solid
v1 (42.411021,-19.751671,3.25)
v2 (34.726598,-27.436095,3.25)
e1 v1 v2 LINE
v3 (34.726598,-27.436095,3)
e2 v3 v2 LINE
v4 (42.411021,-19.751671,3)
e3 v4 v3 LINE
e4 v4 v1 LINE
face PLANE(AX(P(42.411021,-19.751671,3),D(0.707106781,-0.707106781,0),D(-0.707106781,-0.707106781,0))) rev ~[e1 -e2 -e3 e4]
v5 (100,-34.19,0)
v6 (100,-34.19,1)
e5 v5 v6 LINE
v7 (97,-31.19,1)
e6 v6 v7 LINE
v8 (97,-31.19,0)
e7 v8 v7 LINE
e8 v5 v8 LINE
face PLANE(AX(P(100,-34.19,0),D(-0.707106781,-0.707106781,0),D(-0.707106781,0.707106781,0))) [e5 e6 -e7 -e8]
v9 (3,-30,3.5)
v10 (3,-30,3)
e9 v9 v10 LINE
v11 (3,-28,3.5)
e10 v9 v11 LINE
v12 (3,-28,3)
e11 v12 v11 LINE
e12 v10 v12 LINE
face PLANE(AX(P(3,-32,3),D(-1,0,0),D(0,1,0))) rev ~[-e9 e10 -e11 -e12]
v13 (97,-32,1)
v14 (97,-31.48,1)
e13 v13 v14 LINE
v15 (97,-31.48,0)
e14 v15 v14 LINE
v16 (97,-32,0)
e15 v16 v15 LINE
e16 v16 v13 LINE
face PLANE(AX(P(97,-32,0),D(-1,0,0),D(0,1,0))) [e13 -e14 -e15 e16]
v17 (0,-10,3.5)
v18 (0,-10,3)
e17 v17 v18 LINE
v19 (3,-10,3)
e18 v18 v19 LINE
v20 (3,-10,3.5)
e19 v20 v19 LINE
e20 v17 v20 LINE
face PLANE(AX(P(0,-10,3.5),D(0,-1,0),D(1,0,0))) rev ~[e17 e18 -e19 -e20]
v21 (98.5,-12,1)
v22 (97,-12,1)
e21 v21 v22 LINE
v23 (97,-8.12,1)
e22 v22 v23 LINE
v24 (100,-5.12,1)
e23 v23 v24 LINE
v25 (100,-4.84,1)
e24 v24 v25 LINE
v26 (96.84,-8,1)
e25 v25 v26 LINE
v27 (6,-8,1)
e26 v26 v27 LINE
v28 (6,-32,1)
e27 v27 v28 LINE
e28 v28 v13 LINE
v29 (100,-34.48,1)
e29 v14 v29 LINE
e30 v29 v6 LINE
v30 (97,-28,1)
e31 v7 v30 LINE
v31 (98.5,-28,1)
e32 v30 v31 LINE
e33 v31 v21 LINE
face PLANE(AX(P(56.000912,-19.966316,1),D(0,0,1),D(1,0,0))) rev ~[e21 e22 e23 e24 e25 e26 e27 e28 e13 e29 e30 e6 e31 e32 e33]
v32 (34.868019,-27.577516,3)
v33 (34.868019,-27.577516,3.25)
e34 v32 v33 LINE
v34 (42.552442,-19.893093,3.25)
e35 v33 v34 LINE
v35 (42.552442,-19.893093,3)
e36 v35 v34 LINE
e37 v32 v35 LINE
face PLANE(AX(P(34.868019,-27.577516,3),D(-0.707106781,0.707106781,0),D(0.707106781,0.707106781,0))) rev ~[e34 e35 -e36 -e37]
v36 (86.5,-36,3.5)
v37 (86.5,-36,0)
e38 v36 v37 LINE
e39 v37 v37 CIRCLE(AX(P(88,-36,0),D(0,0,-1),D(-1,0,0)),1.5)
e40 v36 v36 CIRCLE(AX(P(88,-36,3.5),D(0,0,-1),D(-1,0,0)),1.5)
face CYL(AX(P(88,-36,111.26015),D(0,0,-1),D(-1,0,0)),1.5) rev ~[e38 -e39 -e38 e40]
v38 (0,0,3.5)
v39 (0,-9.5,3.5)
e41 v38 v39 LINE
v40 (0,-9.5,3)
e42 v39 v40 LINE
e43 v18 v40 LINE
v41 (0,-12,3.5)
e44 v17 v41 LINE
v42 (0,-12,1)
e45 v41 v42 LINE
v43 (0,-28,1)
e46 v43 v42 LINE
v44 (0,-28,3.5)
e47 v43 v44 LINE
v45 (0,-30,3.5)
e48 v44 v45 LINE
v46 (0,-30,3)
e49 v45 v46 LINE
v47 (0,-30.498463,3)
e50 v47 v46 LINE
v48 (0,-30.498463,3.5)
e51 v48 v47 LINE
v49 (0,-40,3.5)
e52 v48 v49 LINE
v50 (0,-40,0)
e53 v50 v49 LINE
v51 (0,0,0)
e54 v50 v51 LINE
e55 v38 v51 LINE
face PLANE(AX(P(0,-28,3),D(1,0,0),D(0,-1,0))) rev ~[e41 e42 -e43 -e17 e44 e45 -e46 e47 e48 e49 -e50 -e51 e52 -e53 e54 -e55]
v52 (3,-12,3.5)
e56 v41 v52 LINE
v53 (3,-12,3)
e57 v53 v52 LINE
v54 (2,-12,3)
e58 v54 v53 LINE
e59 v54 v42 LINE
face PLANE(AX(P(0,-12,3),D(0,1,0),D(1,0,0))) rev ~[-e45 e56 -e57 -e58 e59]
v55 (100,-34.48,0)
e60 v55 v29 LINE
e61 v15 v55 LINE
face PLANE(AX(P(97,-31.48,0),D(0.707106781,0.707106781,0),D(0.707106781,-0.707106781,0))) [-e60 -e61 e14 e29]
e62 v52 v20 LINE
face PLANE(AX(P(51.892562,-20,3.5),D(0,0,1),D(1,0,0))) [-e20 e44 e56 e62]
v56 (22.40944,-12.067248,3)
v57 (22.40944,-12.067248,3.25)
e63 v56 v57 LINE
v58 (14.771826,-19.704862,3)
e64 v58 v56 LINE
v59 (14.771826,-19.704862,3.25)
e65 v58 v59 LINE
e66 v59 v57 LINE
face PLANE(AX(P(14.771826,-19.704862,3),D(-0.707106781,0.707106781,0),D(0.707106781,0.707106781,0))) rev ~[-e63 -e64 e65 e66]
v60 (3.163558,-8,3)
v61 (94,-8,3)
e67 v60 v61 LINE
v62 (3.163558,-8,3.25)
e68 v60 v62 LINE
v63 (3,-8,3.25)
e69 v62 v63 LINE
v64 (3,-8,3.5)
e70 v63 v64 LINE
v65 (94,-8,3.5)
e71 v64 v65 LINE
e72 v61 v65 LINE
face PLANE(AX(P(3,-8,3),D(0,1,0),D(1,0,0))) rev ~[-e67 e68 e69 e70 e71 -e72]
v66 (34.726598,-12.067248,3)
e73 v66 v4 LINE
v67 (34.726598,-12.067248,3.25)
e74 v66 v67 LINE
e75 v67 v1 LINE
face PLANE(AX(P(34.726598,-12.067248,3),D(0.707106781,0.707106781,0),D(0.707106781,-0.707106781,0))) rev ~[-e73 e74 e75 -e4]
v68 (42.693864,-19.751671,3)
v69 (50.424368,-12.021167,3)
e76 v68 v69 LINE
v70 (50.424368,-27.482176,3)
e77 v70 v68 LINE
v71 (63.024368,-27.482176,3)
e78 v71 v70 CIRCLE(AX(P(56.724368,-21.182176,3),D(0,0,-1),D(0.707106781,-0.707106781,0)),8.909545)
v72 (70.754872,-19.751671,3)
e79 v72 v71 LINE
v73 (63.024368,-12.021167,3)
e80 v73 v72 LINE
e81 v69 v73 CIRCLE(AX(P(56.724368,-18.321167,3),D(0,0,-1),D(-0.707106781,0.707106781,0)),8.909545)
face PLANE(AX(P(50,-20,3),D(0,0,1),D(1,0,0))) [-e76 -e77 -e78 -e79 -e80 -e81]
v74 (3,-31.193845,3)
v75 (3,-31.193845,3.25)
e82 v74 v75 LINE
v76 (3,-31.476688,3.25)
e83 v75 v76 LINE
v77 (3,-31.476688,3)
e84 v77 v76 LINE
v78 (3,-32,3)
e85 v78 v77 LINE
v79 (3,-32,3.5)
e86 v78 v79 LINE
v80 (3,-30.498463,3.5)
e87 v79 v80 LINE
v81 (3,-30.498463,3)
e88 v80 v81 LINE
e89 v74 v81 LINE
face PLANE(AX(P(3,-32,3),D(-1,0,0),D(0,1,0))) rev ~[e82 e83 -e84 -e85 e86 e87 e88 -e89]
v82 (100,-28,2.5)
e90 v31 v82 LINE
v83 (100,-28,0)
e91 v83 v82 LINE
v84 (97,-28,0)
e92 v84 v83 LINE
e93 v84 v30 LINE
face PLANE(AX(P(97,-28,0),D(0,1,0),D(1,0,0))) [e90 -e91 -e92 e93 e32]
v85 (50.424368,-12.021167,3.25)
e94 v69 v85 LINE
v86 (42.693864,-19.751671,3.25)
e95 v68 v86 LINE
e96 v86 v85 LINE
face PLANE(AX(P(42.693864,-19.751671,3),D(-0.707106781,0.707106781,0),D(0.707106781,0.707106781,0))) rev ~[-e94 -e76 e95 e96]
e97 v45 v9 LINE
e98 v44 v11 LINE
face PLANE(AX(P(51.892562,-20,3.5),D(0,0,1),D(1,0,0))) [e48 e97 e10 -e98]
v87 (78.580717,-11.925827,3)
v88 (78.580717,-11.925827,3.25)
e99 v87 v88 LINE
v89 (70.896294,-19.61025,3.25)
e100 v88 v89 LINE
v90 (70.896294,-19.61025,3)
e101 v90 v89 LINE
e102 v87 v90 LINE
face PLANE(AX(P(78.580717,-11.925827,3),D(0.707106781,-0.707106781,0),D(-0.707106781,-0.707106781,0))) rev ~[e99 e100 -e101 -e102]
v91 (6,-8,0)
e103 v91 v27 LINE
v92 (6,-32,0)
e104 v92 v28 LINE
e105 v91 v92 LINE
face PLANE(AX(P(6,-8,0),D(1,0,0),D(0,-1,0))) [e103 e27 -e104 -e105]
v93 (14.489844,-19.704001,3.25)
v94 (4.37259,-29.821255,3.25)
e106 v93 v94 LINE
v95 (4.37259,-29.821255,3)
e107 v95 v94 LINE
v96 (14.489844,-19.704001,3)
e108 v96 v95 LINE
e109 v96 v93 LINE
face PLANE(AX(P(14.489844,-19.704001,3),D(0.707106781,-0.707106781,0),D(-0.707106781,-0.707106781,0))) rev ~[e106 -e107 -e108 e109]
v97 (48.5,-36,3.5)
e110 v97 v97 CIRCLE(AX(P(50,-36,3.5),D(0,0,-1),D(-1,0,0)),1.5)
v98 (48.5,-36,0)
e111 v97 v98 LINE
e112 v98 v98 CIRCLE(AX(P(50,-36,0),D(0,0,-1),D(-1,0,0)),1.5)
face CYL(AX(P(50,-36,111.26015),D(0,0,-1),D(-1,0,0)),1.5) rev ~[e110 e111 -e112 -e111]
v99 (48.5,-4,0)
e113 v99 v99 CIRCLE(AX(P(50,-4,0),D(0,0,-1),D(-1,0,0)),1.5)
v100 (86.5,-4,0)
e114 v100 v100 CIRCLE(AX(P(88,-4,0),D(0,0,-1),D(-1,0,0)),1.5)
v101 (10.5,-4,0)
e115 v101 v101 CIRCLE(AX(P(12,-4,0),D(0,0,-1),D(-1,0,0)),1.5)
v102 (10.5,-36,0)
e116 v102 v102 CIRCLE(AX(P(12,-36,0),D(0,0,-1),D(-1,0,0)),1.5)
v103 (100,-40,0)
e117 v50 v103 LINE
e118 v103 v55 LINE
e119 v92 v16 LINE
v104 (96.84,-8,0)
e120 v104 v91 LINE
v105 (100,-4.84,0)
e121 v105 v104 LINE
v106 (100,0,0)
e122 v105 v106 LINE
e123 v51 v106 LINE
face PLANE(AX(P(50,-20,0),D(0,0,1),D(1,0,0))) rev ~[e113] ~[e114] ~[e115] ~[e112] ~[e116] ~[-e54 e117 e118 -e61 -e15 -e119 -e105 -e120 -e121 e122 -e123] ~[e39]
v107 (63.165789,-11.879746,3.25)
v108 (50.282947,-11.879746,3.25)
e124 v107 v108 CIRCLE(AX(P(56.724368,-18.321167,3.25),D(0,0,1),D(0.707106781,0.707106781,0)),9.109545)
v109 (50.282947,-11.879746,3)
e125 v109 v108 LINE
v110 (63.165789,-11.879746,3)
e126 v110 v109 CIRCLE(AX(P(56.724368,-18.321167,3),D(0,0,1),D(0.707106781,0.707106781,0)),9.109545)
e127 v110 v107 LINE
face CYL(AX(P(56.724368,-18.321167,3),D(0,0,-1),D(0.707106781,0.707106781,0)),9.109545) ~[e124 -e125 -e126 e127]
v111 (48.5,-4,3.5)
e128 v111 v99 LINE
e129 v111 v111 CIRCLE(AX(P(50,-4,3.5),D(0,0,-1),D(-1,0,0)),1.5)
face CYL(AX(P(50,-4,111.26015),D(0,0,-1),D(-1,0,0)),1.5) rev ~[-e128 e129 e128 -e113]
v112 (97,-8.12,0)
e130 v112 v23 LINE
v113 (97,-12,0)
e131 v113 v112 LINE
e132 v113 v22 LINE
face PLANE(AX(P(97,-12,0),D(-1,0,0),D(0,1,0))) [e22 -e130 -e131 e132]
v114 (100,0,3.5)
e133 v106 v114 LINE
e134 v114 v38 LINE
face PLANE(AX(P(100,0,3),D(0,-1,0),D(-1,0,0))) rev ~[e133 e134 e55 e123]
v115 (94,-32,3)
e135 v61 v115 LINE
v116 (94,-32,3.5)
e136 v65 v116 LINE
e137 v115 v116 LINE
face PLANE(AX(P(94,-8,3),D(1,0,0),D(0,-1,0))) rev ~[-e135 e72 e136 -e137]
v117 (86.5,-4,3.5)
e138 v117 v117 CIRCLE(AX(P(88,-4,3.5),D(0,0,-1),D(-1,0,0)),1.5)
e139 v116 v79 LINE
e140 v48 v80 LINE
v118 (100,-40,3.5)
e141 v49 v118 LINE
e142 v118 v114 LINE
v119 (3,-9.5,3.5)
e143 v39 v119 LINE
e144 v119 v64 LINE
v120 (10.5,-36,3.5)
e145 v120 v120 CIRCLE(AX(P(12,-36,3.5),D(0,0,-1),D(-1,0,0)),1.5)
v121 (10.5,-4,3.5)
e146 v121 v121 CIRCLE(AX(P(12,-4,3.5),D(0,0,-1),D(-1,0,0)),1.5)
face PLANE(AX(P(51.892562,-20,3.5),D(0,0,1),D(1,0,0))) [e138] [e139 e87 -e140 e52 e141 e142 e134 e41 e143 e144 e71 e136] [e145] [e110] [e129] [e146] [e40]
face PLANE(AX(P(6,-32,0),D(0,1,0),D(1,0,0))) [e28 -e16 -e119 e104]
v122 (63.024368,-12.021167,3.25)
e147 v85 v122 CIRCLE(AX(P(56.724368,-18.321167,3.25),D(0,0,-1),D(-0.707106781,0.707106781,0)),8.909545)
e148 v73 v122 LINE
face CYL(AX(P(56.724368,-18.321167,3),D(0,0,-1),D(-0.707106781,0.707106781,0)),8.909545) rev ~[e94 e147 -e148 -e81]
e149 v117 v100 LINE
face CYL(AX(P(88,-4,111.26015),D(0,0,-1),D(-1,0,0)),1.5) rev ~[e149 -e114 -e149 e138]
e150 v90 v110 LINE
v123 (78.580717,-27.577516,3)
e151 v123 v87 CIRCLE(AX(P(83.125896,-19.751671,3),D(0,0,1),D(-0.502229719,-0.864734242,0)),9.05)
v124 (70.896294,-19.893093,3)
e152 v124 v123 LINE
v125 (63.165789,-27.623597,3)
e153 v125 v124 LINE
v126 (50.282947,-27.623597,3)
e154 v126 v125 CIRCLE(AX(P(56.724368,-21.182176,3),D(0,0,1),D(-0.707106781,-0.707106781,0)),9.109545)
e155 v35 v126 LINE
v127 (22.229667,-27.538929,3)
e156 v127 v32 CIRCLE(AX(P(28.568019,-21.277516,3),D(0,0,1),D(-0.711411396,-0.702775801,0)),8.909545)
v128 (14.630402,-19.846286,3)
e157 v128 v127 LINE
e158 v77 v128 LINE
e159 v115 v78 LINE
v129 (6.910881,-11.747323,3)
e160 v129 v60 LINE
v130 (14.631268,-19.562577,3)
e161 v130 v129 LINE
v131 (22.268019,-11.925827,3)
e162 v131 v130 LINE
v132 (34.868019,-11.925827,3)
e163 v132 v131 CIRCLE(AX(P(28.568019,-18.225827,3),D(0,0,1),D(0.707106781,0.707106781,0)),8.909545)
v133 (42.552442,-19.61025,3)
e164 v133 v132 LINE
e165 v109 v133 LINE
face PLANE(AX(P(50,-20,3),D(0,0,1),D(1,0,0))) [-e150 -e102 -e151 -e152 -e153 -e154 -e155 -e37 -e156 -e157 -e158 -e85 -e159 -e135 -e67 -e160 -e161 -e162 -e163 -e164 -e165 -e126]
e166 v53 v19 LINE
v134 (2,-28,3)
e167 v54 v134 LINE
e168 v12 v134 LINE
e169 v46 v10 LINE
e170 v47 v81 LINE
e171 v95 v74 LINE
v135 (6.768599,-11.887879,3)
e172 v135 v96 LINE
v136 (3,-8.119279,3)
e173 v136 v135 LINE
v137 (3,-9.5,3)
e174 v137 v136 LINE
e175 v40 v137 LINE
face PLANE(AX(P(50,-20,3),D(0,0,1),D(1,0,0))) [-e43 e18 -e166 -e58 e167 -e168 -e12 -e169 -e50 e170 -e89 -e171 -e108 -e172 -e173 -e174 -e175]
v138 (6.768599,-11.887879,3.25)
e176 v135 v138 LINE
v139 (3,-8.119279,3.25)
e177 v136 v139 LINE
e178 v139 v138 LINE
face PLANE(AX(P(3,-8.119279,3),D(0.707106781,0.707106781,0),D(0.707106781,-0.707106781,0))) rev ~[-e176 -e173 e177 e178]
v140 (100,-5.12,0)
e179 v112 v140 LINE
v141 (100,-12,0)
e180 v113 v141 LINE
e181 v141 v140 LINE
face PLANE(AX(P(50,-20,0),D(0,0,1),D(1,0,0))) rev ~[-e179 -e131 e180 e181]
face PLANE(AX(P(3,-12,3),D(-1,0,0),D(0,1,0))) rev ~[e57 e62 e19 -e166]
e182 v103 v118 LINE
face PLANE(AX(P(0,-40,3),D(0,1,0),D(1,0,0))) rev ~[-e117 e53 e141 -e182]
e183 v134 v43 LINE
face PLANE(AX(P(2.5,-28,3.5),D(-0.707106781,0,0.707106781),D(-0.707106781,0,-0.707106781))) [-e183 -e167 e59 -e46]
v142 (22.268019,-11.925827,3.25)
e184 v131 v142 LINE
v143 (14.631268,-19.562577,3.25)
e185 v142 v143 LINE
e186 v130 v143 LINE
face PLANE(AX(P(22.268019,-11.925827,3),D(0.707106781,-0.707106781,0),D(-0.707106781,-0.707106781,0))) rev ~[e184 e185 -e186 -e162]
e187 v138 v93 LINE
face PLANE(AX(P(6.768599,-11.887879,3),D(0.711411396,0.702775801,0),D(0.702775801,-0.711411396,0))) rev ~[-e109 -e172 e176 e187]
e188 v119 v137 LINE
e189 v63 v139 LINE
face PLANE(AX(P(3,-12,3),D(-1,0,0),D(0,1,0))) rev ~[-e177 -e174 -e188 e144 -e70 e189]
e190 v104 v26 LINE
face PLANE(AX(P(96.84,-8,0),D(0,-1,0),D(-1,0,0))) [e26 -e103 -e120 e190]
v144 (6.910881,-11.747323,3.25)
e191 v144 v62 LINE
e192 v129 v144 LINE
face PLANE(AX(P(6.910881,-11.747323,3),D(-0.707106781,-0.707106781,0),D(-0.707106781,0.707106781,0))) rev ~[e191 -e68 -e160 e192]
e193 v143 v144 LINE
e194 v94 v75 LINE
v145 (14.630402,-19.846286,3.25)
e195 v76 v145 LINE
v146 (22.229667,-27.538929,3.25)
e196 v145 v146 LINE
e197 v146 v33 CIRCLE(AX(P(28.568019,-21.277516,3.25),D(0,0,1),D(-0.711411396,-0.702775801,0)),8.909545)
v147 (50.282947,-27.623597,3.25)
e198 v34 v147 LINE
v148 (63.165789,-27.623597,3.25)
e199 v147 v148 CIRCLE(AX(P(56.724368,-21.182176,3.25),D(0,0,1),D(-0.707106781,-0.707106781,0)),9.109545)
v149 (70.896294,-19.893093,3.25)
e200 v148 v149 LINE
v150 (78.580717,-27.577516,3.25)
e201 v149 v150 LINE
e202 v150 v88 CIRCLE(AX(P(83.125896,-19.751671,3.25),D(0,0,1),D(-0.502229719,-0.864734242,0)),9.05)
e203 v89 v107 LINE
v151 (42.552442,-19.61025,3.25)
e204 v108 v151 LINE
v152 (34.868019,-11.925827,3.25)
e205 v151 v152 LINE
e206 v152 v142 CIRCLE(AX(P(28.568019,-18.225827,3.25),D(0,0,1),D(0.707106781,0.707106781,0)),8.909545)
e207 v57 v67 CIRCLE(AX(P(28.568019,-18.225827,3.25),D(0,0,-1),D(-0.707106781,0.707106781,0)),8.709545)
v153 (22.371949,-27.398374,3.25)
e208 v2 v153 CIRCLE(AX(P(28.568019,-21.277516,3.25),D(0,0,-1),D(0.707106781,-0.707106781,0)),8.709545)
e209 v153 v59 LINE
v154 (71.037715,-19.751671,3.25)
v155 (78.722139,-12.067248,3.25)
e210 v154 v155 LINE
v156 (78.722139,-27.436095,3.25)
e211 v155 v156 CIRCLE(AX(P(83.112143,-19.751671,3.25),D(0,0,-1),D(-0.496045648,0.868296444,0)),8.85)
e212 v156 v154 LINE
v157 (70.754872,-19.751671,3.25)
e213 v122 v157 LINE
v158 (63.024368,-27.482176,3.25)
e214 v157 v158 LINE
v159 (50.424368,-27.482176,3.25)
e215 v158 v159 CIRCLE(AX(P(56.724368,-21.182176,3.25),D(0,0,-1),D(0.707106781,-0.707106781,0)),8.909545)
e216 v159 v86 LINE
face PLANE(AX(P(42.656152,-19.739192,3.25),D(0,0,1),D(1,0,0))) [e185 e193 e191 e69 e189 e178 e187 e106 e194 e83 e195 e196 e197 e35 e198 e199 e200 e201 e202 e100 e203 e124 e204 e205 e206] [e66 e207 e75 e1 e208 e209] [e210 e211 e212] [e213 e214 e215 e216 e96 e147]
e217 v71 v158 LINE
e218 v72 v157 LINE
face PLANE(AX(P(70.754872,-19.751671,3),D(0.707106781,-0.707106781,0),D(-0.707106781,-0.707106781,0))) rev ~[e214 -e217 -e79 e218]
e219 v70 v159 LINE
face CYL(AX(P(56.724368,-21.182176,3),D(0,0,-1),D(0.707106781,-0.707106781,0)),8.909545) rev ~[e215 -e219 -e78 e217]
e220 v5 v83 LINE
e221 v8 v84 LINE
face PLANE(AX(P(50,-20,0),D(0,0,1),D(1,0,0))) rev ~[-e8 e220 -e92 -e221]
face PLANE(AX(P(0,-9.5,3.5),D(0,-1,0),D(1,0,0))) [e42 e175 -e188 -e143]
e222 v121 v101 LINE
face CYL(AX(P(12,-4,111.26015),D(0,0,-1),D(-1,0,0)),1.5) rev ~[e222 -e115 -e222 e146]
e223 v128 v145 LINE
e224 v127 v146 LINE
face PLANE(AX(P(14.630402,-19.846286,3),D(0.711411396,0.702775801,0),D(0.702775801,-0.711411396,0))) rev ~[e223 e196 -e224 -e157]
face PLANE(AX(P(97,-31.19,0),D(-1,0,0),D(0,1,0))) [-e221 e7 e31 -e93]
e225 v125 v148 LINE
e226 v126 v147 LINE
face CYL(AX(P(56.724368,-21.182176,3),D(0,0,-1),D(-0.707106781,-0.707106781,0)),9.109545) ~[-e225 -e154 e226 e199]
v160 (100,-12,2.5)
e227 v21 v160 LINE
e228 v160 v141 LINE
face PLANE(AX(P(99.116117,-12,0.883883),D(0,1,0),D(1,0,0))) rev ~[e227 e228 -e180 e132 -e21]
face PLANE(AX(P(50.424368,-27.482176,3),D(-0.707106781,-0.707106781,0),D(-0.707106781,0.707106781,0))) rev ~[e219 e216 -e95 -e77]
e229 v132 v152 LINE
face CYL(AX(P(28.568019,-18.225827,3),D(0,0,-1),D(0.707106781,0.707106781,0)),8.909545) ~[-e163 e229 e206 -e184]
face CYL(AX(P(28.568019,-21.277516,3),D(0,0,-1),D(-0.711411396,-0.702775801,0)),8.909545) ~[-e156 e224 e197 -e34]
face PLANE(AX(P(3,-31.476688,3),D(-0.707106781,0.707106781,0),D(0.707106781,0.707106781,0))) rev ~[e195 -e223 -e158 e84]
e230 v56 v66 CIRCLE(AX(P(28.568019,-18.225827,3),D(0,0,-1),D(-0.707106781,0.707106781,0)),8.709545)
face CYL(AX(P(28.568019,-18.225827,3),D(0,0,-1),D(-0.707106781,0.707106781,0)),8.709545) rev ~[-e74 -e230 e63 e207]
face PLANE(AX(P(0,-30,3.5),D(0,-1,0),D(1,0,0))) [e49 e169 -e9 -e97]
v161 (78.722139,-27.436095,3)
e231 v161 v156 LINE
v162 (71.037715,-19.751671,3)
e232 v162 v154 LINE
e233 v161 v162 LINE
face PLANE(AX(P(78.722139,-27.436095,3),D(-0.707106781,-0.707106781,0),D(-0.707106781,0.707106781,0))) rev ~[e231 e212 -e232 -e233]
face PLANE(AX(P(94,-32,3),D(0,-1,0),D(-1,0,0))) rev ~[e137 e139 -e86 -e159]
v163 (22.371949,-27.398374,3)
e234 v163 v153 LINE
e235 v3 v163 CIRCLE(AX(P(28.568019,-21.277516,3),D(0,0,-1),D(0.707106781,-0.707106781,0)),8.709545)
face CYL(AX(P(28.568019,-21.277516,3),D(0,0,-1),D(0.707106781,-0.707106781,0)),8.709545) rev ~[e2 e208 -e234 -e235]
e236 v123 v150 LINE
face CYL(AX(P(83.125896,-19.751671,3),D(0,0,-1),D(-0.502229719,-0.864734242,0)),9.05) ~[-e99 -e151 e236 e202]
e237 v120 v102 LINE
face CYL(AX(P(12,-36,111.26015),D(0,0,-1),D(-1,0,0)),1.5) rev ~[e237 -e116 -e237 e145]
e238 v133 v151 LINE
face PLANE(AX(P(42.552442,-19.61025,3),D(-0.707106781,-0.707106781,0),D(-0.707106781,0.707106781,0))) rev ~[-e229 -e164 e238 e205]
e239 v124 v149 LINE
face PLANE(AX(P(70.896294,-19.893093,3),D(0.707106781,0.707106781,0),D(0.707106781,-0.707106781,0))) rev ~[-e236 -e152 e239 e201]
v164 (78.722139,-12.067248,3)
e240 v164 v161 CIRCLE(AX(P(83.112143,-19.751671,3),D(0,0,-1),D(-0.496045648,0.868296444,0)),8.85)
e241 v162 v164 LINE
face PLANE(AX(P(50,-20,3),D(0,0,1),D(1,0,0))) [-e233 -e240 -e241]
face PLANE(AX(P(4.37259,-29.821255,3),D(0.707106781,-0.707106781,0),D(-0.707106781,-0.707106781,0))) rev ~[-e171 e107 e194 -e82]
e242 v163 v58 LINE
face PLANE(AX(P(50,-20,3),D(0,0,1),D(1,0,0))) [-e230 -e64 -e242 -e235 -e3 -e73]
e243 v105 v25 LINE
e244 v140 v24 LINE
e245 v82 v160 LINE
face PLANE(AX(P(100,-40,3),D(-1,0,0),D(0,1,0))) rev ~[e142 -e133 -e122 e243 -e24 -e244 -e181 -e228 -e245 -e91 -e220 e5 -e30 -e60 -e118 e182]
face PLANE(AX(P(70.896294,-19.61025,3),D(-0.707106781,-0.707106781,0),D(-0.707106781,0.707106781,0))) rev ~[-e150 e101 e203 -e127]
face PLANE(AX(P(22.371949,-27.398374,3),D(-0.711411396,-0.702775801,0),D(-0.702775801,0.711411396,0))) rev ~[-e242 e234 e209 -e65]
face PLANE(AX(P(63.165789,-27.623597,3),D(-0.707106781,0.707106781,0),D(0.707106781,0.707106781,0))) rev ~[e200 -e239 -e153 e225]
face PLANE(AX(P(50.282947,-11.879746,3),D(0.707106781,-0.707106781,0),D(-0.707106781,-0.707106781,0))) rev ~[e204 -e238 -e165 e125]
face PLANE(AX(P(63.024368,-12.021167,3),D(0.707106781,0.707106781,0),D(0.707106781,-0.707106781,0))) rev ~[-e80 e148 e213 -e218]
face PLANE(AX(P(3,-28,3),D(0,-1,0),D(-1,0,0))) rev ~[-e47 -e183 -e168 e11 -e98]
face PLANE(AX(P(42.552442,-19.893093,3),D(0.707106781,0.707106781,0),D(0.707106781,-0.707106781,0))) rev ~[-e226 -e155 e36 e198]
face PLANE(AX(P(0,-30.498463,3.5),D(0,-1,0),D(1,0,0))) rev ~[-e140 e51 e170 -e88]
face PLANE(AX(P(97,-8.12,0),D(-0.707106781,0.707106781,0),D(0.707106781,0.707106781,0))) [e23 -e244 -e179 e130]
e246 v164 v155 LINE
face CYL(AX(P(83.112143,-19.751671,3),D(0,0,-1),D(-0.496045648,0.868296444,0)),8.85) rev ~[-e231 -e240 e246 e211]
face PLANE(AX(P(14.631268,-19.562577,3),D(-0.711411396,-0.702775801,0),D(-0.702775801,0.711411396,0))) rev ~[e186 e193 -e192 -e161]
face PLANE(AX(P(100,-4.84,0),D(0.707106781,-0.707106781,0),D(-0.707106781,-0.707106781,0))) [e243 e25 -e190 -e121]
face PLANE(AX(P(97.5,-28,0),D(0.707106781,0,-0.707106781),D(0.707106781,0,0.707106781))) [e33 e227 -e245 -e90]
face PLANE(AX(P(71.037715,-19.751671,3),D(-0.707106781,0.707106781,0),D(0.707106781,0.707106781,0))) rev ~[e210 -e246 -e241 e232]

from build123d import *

# Parameters (mm, degrees)
SKETCH1_W             = 100
SKETCH1_H             = 40
BOSS_EXTRUDE1_DEPTH   = 3
BOSS_EXTRUDE2_DEPTH   = 0.25
BOSS_EXTRUDE21_DEPTH  = 0.5
CUT_EXTRUDE51_DEPTH   = 1
F_3_0MM_DOWEL_HOLE1_D = 3
CUT_EXTRUDE52_START   = -12
CUT_EXTRUDE52_DEPTH   = 16
SKETCH38_W            = 3
SKETCH38_H            = 0.5
SKETCH38_H_2          = 0.498463084
CUT_EXTRUDE53_DEPTH   = 0.5


with BuildPart() as part:
    # Sketch1 → Boss-Extrude1 (new body)
    with BuildSketch(Plane.XY):
        with Locations((50, -20)):
            Rectangle(SKETCH1_W, SKETCH1_H)
    extrude(amount=BOSS_EXTRUDE1_DEPTH)



with BuildPart() as body_2:
    # Sketch15 → Boss-Extrude2 (new body)
    with BuildSketch(Plane.XY.offset(3)):
        with BuildLine():
            Line((6.768599112, -11.887878533), (14.489844294, -19.704001121))
            Line((14.489844294, -19.704001121), (4.37258998, -29.821255436))
            Line((4.37258998, -29.821255436), (3, -31.193845416))
            Line((3, -31.193845416), (3, -31.476688128))
            Line((3, -31.476688128), (4.514011336, -29.962676792))
            Line((4.514011336, -29.962676792), (14.630402075, -19.846286053))
            Line((14.630402075, -19.846286053), (22.229666729, -27.538929237))
            ThreePointArc((22.229666729, -27.538929237), (28.540816637, -30.187020221), (34.868018887, -27.577516304))
            Line((34.868018887, -27.577516304), (42.552442419, -19.893092772))
            Line((42.552442419, -19.893092772), (50.282946717, -27.623597071))
            ThreePointArc((50.282946717, -27.623597071), (56.724368073, -30.291721157), (63.16578943, -27.623597071))
            Line((63.16578943, -27.623597071), (70.896293728, -19.893092772))
            Line((70.896293728, -19.893092772), (78.58071726, -27.577516304))
            ThreePointArc((78.58071726, -27.577516304), (92.175896221, -19.751671416), (78.58071726, -11.925826528))
            Line((78.58071726, -11.925826528), (70.896293728, -19.61025006))
            Line((70.896293728, -19.61025006), (63.16578943, -11.879745762))
            ThreePointArc((63.16578943, -11.879745762), (56.724368073, -9.211621675), (50.282946717, -11.879745762))
            Line((50.282946717, -11.879745762), (42.552442419, -19.61025006))
            Line((42.552442419, -19.61025006), (34.868018887, -11.925826528))
            ThreePointArc((34.868018887, -11.925826528), (28.568018887, -9.316281085), (22.268018887, -11.925826528))
            Line((22.268018887, -11.925826528), (14.631268287, -19.562577129))
            Line((14.631268287, -19.562577129), (6.910881392, -11.747323373))
            Line((6.910881392, -11.747323373), (3.163558019, -8))
            Line((3.163558019, -8), (3, -8))
            Line((3, -8), (3, -8.119279421))
            Line((3, -8.119279421), (6.768599112, -11.887878533))
        make_face()
        with BuildLine():
            Line((22.371949008, -27.398374077), (14.771826068, -19.70486206))
            Line((14.771826068, -19.70486206), (22.409440244, -12.067247885))
            ThreePointArc((22.409440244, -12.067247885), (28.568018887, -9.516281085), (34.726597531, -12.067247885))
            Line((34.726597531, -12.067247885), (42.411021063, -19.751671416))
            Line((42.411021063, -19.751671416), (34.726597531, -27.436094948))
            ThreePointArc((34.726597531, -27.436094948), (28.541427268, -29.987021153), (22.371949008, -27.398374077))
        make_face(mode=Mode.SUBTRACT)
        with BuildLine():
            Line((70.754872372, -19.751671416), (63.024368073, -27.482175714))
            ThreePointArc((63.024368073, -27.482175714), (56.724368073, -30.091721157), (50.424368073, -27.482175714))
            Line((50.424368073, -27.482175714), (42.693863775, -19.751671416))
            Line((42.693863775, -19.751671416), (50.424368073, -12.021167118))
            ThreePointArc((50.424368073, -12.021167118), (56.724368073, -9.411621675), (63.024368073, -12.021167118))
            Line((63.024368073, -12.021167118), (70.754872372, -19.751671416))
        make_face(mode=Mode.SUBTRACT)
        with BuildLine():
            Line((71.037715084, -19.751671416), (78.722138616, -12.067247885))
            ThreePointArc((78.722138616, -12.067247885), (91.962142601, -19.751671416), (78.722138616, -27.436094948))
            Line((78.722138616, -27.436094948), (71.037715084, -19.751671416))
        make_face(mode=Mode.SUBTRACT)
    extrude(amount=BOSS_EXTRUDE2_DEPTH)


with BuildPart() as part_1:
    add(part.part)

    add(body_2.part)  # Boss-Extrude21 merges body 2
    # Sketch15<71> → Boss-Extrude21 (add)
    with BuildSketch(Plane.XY.offset(3)):
        Polygon((3, -31.476688128), (3, -31.193845416), (3, -28), (0, -28), (0, -40), (100, -40), (100, 0), (0, 0), (0, -12), (3, -12), (3, -8.119279421), (3, -8), (3.163558019, -8), (94, -8), (94, -32), (3, -32), align=None)
    extrude(amount=BOSS_EXTRUDE21_DEPTH)

    # Sketch16 → Cut-Extrude51 (cut)
    with BuildSketch(Plane.XY):
        Polygon((96.84, -8), (6, -8), (6, -32), (97, -32), (97, -31.48), (100, -34.48), (100, -34.19), (97, -31.19), (97, -28), (100, -28), (100, -12), (97, -12), (97, -8.12), (100, -5.12), (100, -4.84), align=None)
    extrude(amount=CUT_EXTRUDE51_DEPTH, mode=Mode.SUBTRACT)

    # Ø3.0mm Dowel Hole1 (through all)
    with Locations(Plane.XY.offset(3.5)):
        with Locations((12, -4), (50, -4), (88, -4), (88, -36), (50, -36), (12, -36)):
            Hole(F_3_0MM_DOWEL_HOLE1_D / 2)

    # Sketch37 → Cut-Extrude52 (cut)
    with BuildSketch(Plane(origin=(0, -40, 0), x_dir=(-1, 0, 0), z_dir=(0, -1, 0)).offset(CUT_EXTRUDE52_START)):
        Polygon((0, -3.5), (-2.5, -3.5), (0, -1), align=None)
        Polygon((-100, 0), (-97.5, 0), (-100, -2.5), align=None)
    extrude(amount=-CUT_EXTRUDE52_DEPTH, mode=Mode.SUBTRACT)

    # Sketch38 → Cut-Extrude53 (cut)
    with BuildSketch(Plane.XY.offset(3.5)):
        with Locations((1.5, -9.75)):
            Rectangle(SKETCH38_W, SKETCH38_H)
        with Locations((1.5, -30.249231542)):
            Rectangle(SKETCH38_W, SKETCH38_H_2)
    extrude(amount=-CUT_EXTRUDE53_DEPTH, mode=Mode.SUBTRACT)


solid = part_1.part
